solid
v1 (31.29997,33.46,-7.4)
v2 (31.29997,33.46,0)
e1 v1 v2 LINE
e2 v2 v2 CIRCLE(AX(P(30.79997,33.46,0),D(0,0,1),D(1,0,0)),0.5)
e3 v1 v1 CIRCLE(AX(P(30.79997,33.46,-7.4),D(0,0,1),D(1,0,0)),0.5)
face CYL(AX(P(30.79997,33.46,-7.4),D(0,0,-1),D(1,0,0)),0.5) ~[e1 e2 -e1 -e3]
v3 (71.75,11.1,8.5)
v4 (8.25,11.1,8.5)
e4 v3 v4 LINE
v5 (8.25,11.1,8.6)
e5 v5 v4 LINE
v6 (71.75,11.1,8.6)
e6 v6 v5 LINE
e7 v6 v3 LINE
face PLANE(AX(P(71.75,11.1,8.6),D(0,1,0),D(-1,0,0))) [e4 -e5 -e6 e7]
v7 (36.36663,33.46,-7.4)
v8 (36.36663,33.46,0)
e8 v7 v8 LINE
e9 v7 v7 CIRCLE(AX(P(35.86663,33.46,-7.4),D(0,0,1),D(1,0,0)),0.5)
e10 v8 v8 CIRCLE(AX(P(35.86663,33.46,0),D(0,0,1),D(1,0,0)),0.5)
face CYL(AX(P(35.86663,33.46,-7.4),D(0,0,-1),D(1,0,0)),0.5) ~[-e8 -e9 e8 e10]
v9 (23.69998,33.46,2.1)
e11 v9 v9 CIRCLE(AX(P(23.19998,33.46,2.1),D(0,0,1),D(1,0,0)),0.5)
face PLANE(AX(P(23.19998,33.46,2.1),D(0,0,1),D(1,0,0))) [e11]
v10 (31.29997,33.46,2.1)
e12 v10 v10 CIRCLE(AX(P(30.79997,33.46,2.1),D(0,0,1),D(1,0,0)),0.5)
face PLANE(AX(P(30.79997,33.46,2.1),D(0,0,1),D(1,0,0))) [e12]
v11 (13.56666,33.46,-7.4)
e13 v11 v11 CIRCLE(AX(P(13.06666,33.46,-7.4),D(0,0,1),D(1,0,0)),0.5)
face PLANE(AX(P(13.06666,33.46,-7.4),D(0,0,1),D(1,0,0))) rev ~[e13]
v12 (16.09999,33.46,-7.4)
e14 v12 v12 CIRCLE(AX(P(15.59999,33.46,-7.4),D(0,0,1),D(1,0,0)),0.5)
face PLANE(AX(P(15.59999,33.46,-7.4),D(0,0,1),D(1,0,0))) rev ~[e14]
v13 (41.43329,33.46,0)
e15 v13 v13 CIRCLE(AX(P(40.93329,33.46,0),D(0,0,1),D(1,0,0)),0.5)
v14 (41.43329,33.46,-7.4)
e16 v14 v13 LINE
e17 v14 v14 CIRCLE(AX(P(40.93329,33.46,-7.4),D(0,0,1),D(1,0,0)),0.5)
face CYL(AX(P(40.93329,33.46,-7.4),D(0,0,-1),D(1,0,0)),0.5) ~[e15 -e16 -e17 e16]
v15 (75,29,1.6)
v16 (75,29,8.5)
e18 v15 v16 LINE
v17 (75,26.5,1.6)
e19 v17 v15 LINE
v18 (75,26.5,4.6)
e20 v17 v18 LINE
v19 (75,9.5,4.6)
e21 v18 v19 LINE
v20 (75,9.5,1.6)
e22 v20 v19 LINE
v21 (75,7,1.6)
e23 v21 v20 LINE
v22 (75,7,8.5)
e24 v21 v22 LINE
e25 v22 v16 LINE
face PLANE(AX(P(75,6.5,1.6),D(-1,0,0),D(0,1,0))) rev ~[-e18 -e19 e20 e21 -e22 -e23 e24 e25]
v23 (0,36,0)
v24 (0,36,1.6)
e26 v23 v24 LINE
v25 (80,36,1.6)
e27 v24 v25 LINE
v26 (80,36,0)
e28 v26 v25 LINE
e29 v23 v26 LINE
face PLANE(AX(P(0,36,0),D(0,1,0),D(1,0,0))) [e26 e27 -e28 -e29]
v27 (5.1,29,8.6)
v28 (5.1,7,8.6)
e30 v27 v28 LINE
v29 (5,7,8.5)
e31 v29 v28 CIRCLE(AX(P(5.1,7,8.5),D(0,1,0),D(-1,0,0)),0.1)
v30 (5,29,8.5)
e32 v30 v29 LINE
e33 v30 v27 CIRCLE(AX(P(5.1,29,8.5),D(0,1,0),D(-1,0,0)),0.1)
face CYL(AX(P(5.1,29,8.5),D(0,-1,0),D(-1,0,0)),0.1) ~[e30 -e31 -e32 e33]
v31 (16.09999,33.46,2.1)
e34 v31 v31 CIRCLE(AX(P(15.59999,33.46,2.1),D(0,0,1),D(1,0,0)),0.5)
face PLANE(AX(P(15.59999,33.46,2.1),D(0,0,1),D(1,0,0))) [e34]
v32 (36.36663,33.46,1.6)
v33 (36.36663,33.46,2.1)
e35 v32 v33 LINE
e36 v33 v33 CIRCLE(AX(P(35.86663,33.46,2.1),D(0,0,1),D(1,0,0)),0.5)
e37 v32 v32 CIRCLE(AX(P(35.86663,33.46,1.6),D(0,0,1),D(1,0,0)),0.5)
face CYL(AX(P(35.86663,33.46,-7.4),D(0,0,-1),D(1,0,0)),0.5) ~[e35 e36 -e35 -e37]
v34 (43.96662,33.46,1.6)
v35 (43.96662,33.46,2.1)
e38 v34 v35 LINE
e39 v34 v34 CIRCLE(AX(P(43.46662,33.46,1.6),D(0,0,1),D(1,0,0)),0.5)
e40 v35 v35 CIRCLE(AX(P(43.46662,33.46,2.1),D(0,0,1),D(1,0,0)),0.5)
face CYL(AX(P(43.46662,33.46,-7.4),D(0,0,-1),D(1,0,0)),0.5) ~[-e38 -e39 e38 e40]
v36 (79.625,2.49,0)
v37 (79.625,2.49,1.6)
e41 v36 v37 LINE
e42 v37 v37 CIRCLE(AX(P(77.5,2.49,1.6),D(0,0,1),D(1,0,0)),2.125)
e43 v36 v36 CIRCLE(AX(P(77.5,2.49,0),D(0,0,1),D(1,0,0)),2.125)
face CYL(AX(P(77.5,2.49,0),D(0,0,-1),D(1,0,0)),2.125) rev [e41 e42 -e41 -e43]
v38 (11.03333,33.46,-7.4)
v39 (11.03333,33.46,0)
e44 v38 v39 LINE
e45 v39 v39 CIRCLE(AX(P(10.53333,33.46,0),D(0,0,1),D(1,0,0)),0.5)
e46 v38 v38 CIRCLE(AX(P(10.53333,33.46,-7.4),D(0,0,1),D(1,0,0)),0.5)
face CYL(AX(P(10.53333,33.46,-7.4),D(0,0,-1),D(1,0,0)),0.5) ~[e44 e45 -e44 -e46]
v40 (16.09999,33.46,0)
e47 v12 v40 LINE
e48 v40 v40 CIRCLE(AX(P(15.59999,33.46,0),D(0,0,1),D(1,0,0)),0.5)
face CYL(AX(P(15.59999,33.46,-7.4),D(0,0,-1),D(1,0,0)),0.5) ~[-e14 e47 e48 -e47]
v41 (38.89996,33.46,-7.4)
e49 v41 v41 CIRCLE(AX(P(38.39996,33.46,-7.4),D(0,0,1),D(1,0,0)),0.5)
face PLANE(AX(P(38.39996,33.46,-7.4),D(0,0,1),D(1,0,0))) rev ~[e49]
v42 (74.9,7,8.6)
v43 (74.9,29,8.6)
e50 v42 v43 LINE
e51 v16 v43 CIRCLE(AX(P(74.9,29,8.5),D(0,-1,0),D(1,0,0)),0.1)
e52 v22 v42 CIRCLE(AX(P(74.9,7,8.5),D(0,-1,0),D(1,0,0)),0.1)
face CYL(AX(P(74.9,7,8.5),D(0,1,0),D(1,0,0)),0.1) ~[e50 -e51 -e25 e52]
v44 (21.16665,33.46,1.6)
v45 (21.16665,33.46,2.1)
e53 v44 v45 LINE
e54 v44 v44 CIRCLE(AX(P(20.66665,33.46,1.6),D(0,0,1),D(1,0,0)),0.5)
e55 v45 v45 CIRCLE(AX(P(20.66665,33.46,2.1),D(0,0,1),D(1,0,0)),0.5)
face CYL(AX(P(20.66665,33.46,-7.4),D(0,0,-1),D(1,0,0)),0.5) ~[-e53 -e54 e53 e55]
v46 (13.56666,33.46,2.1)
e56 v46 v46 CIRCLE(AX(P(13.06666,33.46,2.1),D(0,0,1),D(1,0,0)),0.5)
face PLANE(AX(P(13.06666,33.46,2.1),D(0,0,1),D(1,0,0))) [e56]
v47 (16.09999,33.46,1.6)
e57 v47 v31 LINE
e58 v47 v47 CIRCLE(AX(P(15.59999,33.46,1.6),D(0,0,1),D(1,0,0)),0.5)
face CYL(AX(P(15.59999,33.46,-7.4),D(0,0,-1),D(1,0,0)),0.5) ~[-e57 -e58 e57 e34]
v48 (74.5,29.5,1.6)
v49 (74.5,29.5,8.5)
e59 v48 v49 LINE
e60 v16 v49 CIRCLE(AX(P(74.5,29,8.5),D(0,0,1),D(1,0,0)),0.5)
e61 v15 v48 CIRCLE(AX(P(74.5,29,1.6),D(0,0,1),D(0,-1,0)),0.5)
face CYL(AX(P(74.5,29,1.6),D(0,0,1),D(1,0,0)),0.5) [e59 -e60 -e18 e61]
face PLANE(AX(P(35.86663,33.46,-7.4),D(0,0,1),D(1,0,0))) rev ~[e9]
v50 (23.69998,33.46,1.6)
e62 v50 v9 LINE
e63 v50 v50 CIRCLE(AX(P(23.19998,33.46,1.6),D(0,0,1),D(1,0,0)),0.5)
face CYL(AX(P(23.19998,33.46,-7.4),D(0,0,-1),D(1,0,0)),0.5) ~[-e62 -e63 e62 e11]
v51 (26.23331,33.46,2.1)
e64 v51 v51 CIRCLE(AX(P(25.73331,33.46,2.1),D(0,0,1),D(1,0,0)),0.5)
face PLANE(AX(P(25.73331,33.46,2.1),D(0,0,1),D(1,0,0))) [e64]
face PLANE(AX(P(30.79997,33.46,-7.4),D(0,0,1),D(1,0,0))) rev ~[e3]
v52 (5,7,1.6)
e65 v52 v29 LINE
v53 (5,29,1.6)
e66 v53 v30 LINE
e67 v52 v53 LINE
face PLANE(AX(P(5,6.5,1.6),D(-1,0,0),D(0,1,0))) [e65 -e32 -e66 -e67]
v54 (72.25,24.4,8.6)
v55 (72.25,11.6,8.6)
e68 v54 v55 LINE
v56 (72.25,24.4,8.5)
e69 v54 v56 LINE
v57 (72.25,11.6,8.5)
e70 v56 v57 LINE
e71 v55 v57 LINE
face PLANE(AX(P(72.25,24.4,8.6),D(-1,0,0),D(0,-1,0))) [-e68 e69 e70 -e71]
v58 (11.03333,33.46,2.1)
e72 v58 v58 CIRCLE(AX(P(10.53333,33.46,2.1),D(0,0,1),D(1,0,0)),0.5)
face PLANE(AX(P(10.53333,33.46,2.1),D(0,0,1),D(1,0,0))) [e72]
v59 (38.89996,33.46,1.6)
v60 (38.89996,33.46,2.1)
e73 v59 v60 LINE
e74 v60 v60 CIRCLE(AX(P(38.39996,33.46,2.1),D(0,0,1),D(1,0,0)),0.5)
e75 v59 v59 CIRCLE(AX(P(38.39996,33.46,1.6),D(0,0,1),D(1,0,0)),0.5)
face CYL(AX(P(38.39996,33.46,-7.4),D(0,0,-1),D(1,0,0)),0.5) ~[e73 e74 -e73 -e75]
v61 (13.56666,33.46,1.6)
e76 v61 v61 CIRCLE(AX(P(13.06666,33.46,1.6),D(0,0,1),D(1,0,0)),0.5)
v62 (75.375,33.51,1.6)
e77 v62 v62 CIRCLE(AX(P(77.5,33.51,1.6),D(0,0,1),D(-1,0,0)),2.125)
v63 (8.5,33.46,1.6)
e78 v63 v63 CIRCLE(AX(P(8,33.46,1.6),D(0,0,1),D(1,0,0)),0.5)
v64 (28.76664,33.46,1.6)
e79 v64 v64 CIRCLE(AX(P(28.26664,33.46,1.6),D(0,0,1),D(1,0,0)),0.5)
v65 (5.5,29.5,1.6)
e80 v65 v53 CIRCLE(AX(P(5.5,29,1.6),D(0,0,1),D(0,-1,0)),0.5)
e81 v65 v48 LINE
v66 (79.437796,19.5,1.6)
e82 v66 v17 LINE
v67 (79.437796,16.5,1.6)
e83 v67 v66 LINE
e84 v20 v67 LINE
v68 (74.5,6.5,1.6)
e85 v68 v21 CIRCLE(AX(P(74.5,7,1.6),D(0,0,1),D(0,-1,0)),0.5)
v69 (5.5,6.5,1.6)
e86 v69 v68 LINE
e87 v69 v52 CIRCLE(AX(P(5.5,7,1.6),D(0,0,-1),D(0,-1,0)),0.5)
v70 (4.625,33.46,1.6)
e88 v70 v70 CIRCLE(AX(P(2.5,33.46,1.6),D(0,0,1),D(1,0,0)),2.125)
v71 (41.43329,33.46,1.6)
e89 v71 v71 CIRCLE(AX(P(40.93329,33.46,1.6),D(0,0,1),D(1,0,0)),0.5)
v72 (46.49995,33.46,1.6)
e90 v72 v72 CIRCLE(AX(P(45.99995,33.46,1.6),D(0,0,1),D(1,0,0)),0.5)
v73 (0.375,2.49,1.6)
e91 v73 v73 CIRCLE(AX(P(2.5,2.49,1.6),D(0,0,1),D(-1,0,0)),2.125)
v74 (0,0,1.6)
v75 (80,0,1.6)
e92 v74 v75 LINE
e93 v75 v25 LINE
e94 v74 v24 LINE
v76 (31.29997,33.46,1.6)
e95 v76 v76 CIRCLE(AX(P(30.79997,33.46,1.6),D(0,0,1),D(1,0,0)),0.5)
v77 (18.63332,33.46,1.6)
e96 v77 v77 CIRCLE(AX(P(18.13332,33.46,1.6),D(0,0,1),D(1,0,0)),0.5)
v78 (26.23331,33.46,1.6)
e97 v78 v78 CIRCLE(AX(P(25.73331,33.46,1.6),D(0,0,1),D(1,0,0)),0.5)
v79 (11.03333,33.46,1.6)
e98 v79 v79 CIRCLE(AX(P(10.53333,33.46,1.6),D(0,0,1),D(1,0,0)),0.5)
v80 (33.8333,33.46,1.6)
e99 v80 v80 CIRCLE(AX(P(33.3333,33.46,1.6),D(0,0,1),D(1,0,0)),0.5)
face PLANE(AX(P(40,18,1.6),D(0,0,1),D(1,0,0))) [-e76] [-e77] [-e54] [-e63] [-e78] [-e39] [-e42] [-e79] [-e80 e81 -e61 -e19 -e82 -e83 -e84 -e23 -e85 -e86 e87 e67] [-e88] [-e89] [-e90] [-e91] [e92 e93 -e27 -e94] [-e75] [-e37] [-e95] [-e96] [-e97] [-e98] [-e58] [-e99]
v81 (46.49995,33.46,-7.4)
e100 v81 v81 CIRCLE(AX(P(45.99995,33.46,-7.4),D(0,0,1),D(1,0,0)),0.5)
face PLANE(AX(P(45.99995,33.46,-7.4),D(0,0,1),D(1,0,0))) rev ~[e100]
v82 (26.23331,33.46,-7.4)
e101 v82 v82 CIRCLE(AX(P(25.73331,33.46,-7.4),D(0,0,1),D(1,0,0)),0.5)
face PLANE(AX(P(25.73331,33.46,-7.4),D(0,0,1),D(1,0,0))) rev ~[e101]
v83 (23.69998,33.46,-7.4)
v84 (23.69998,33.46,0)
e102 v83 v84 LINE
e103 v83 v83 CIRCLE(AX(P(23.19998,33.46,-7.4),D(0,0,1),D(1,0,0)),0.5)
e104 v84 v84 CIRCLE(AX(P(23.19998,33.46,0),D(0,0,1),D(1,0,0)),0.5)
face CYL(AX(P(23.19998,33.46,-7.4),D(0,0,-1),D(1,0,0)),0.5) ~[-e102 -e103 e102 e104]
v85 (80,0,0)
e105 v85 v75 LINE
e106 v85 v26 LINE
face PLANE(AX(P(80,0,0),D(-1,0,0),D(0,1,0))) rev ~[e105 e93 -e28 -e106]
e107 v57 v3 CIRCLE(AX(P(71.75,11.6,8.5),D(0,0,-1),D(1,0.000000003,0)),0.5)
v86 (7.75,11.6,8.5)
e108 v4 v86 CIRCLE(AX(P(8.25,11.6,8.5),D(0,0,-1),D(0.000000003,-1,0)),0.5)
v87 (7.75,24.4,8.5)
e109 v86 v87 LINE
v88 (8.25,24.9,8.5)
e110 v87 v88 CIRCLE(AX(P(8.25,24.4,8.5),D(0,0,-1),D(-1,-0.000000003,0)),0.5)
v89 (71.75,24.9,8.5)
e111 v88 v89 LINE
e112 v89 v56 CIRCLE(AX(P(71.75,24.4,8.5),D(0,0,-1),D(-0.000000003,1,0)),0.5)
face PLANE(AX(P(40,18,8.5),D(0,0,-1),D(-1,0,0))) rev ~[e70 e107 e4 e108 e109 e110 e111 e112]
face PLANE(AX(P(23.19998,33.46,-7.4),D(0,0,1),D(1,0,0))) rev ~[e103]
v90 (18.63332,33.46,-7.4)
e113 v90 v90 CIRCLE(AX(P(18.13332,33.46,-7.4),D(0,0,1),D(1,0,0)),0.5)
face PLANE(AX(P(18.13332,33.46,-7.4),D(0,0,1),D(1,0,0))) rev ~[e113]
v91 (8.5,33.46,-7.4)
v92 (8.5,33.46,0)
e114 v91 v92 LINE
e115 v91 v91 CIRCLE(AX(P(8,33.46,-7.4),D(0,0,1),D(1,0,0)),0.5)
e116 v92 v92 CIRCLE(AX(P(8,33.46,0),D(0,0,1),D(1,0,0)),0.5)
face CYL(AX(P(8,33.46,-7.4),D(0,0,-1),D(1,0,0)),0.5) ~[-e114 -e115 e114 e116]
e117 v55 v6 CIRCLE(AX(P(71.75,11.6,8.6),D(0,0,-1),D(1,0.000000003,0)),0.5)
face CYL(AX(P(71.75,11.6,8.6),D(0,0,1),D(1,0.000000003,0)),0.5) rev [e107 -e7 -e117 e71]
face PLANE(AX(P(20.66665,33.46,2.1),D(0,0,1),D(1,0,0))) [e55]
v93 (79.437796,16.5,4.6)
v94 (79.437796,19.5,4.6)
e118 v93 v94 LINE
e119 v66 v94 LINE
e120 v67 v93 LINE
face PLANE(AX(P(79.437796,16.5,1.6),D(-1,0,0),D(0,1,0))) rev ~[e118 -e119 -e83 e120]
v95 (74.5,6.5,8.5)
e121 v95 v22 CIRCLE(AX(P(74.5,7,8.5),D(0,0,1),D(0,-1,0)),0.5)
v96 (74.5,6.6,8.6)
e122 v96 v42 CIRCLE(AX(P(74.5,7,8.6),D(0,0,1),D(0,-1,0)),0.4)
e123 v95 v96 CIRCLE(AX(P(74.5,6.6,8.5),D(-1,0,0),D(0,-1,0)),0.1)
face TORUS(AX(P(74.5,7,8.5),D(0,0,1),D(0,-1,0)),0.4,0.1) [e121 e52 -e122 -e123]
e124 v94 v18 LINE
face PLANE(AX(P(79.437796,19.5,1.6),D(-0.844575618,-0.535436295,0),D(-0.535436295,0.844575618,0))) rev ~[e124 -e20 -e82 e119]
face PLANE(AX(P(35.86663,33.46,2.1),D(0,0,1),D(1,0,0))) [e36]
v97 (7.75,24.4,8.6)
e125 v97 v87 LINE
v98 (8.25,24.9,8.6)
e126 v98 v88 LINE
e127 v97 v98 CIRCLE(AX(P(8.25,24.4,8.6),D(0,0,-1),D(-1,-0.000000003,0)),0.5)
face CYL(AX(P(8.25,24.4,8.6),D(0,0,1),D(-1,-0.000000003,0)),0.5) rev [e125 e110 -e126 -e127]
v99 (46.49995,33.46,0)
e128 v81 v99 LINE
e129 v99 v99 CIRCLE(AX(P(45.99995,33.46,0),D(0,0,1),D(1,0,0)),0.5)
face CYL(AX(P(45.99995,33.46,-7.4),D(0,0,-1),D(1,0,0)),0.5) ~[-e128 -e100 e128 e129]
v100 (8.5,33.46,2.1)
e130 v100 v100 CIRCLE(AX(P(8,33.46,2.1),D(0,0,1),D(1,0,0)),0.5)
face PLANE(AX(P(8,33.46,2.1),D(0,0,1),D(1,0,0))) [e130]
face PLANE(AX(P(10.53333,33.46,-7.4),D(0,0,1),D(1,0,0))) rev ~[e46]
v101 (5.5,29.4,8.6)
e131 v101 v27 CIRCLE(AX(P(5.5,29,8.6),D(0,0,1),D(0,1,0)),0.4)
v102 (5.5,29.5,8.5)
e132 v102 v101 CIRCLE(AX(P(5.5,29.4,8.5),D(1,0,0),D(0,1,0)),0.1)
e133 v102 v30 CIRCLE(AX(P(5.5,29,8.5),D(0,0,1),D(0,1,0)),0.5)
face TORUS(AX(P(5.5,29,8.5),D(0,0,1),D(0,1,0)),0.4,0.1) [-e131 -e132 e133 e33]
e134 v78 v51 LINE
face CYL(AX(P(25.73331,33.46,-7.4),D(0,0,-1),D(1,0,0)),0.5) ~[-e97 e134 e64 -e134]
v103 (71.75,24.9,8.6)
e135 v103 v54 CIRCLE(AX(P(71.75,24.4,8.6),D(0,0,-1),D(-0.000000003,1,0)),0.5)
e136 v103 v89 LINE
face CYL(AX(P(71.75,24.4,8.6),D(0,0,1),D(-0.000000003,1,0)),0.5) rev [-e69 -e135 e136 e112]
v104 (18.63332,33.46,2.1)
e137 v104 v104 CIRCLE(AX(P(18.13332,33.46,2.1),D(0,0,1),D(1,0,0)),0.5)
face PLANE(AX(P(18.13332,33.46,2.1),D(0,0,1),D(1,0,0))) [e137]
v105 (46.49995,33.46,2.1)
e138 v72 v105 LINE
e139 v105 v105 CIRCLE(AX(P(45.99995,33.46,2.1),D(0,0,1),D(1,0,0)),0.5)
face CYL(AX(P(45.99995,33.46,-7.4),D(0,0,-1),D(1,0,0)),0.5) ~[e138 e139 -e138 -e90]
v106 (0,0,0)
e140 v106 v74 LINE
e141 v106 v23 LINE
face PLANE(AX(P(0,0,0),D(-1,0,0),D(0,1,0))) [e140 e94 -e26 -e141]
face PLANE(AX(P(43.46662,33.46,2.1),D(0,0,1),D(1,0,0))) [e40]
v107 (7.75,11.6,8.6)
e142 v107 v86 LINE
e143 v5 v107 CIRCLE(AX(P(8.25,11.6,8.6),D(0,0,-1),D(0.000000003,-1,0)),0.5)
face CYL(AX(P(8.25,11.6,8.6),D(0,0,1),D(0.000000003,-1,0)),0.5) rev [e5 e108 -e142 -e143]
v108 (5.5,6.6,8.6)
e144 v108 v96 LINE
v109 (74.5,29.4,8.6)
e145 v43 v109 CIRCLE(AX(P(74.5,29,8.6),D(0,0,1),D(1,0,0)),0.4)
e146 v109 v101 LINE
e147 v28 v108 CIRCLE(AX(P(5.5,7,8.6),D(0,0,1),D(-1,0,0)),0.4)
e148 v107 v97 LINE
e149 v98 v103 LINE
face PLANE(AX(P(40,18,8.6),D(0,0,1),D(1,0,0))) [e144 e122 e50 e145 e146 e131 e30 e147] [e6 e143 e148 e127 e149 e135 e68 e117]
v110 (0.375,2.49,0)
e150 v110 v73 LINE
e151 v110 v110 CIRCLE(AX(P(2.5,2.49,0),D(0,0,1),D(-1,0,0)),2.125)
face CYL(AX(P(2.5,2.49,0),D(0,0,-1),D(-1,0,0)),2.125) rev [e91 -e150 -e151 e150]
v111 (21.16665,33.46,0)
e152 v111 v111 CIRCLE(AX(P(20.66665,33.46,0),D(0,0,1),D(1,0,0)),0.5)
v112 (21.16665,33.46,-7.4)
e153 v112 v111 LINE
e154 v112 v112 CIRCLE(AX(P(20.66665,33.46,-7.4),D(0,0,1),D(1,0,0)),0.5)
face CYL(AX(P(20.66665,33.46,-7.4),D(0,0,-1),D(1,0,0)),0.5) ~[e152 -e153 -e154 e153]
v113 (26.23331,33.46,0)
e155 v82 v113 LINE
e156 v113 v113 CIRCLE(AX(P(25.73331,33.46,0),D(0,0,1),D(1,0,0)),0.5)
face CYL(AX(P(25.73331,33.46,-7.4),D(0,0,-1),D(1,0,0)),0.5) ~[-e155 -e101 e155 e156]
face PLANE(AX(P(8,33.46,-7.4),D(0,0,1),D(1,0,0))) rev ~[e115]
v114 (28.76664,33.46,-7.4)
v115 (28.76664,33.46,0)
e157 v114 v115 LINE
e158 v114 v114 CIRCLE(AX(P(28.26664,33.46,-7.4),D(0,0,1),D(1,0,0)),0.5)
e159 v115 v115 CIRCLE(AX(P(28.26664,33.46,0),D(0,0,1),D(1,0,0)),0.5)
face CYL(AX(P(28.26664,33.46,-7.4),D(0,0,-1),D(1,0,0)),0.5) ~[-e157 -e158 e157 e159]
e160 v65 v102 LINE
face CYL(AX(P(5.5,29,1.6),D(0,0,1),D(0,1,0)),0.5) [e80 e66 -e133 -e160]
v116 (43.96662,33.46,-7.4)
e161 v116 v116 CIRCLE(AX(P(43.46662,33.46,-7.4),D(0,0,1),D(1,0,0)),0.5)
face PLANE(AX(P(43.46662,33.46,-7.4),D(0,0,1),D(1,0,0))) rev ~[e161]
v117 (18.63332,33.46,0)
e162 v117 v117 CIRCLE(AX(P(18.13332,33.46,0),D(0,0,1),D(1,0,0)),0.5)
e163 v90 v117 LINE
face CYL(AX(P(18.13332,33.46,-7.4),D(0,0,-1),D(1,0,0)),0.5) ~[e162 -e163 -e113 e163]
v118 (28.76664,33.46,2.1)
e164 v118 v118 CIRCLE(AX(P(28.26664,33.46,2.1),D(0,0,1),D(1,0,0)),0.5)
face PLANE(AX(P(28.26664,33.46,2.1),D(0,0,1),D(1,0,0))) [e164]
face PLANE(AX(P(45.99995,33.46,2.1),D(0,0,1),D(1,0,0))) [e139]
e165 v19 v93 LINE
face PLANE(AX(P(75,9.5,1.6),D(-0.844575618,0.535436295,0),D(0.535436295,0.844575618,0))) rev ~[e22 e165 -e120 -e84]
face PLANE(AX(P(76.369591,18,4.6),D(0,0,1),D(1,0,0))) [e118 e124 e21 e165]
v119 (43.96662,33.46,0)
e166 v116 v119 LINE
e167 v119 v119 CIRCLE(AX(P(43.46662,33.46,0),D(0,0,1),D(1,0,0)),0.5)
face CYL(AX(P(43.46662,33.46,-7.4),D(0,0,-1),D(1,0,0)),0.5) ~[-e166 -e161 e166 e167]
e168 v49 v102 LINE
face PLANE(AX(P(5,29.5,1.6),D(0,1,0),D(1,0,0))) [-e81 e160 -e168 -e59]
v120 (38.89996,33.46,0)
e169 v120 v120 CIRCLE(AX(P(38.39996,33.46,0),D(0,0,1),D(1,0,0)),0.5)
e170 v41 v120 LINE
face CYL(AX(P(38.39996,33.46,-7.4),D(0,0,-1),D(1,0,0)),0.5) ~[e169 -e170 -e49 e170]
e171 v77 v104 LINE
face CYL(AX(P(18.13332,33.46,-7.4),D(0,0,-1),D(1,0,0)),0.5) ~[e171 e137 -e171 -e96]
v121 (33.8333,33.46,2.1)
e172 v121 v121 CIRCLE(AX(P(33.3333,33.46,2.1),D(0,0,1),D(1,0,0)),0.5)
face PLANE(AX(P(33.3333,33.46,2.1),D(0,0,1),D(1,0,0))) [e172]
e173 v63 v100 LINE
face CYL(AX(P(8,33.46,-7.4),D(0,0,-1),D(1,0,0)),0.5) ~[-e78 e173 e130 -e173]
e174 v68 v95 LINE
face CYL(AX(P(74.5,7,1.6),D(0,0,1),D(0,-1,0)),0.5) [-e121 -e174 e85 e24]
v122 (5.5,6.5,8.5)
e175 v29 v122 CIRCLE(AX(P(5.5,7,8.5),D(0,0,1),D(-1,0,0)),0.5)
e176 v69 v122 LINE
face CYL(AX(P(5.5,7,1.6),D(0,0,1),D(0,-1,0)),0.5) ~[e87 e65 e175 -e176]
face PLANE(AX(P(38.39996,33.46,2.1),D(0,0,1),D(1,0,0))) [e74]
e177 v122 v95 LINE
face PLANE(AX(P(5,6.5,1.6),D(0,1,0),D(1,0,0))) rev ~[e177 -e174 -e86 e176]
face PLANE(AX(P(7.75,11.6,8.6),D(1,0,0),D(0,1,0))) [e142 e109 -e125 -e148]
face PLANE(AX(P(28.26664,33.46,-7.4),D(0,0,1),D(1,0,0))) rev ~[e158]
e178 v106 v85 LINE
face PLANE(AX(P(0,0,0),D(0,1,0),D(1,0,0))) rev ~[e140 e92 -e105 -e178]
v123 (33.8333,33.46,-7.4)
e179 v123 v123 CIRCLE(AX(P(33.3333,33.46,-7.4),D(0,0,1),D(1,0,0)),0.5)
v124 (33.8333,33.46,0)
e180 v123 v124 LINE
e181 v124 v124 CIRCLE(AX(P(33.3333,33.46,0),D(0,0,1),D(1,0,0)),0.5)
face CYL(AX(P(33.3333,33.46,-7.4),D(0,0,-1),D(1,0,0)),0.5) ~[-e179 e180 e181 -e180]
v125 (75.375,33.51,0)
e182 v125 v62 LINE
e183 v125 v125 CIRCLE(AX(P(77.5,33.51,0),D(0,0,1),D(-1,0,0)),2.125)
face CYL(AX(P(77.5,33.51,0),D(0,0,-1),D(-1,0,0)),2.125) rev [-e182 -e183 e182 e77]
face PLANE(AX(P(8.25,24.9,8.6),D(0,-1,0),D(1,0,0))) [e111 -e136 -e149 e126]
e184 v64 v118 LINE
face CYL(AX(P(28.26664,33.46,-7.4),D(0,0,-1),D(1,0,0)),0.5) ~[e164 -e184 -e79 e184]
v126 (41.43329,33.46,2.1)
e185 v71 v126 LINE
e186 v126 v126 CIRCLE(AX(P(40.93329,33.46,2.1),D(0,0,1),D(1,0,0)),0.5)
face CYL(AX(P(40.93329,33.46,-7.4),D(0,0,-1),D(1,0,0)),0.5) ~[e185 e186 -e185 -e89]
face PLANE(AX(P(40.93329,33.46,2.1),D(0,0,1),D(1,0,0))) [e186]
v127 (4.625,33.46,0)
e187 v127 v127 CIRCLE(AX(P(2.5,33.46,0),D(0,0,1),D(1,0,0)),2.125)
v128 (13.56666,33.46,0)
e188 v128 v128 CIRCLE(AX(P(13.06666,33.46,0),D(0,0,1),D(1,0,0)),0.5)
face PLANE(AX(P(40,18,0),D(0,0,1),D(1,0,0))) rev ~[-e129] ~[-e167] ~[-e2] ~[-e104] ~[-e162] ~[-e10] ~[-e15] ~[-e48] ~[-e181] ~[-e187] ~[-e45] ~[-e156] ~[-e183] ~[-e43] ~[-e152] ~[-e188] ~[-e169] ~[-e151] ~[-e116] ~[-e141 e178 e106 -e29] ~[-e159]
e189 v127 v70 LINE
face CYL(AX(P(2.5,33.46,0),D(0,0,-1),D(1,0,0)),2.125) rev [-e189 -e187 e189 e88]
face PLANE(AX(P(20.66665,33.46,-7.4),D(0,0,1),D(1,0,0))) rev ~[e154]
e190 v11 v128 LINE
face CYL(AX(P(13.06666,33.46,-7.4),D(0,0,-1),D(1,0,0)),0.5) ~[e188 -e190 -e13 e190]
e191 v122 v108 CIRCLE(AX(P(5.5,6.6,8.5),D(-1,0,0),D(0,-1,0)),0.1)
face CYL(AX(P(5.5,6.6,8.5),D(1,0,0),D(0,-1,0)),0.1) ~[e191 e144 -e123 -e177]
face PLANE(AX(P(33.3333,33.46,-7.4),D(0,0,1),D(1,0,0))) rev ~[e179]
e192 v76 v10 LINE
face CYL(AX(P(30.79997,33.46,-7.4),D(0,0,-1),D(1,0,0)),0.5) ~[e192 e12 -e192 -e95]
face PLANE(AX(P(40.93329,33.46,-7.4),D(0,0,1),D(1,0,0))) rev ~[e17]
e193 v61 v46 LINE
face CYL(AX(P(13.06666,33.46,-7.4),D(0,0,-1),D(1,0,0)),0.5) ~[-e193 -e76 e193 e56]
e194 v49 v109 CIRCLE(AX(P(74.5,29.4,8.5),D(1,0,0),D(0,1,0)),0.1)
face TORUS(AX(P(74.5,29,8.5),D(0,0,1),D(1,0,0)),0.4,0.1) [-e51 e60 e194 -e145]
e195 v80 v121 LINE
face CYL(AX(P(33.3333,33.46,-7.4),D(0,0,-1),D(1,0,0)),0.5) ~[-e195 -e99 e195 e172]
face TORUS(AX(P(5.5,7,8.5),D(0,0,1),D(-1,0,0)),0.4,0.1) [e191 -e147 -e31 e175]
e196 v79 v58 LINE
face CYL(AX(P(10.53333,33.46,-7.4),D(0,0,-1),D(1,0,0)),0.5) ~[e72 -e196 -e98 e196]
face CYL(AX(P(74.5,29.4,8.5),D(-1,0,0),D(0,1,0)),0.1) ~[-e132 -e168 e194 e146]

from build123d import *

# Parameters (mm, degrees)
CROQUIS1_W                   = 80
CROQUIS1_H                   = 36
CROQUIS1_R                   = 2.125
CROQUIS1_R_2                 = 0.5
SALIENTE_EXTRUIR1_DEPTH      = 1.6
CROQUIS2_W                   = 70
CROQUIS2_H                   = 23
SALIENTE_EXTRUIR2_DEPTH      = 7
SALIENTE_EXTRUIR3_DEPTH      = 3
SALIENTE_EXTRUIR4_DEPTH      = 0.5
SALIENTE_EXTRUIR4_DEPTH_BACK = 9
CROQUIS6_R                   = 0.5
CORTAR_EXTRUIR1_DEPTH        = 0.1
REDONDEO1_R                  = 0.5
FILLET2_R                    = 0.1


with BuildPart() as part:
    # Croquis1 → Saliente-Extruir1 (new body)
    with BuildSketch(Plane.XY):
        with Locations((40, 18)):
            Rectangle(CROQUIS1_W, CROQUIS1_H)
        with Locations((2.5, 33.46)):
            Circle(CROQUIS1_R, mode=Mode.SUBTRACT)
        with Locations(Location((77.5, 33.51, 0), (0, 0, 180))):
            Circle(CROQUIS1_R, mode=Mode.SUBTRACT)
        with Locations((77.5, 2.49)):
            Circle(CROQUIS1_R, mode=Mode.SUBTRACT)
        with Locations(Location((2.5, 2.49, 0), (0, 0, 180))):
            Circle(CROQUIS1_R, mode=Mode.SUBTRACT)
        with Locations((8, 33.46)):
            Circle(CROQUIS1_R_2, mode=Mode.SUBTRACT)
        with Locations((10.53333, 33.46)):
            Circle(CROQUIS1_R_2, mode=Mode.SUBTRACT)
        with Locations((13.06666, 33.46)):
            Circle(CROQUIS1_R_2, mode=Mode.SUBTRACT)
        with Locations((15.59999, 33.46)):
            Circle(CROQUIS1_R_2, mode=Mode.SUBTRACT)
        with Locations((18.13332, 33.46)):
            Circle(CROQUIS1_R_2, mode=Mode.SUBTRACT)
        with Locations((20.66665, 33.46)):
            Circle(CROQUIS1_R_2, mode=Mode.SUBTRACT)
        with Locations((23.19998, 33.46)):
            Circle(CROQUIS1_R_2, mode=Mode.SUBTRACT)
        with Locations((25.73331, 33.46)):
            Circle(CROQUIS1_R_2, mode=Mode.SUBTRACT)
        with Locations((28.26664, 33.46)):
            Circle(CROQUIS1_R_2, mode=Mode.SUBTRACT)
        with Locations((30.79997, 33.46)):
            Circle(CROQUIS1_R_2, mode=Mode.SUBTRACT)
        with Locations((33.3333, 33.46)):
            Circle(CROQUIS1_R_2, mode=Mode.SUBTRACT)
        with Locations((35.86663, 33.46)):
            Circle(CROQUIS1_R_2, mode=Mode.SUBTRACT)
        with Locations((38.39996, 33.46)):
            Circle(CROQUIS1_R_2, mode=Mode.SUBTRACT)
        with Locations((40.93329, 33.46)):
            Circle(CROQUIS1_R_2, mode=Mode.SUBTRACT)
        with Locations((43.46662, 33.46)):
            Circle(CROQUIS1_R_2, mode=Mode.SUBTRACT)
        with Locations((45.99995, 33.46)):
            Circle(CROQUIS1_R_2, mode=Mode.SUBTRACT)
    extrude(amount=SALIENTE_EXTRUIR1_DEPTH)

    # Croquis2 → Saliente-Extruir2 (add)
    with BuildSketch(Plane.XY.offset(1.6)):
        with Locations((40, 18)):
            Rectangle(CROQUIS2_W, CROQUIS2_H)
    extrude(amount=SALIENTE_EXTRUIR2_DEPTH)

    # Croquis3 → Saliente-Extruir3 (add)
    with BuildSketch(Plane.XY.offset(1.6)):
        Polygon((79.437795719, 19.5), (75, 26.5), (75, 9.5), (79.437795719, 16.5), align=None)
    extrude(amount=SALIENTE_EXTRUIR3_DEPTH)

    # Croquis6 → Saliente-Extruir4 (add, two sides: drawn at the far end of the back side and taken through both)
    with BuildSketch(Plane.XY.offset(1.6).offset(-SALIENTE_EXTRUIR4_DEPTH_BACK)):
        with Locations((8, 33.46)):
            Circle(CROQUIS6_R)
        with Locations((10.53333, 33.46)):
            Circle(CROQUIS6_R)
        with Locations((13.06666, 33.46)):
            Circle(CROQUIS6_R)
        with Locations((15.59999, 33.46)):
            Circle(CROQUIS6_R)
        with Locations((18.13332, 33.46)):
            Circle(CROQUIS6_R)
        with Locations((20.66665, 33.46)):
            Circle(CROQUIS6_R)
        with Locations((23.19998, 33.46)):
            Circle(CROQUIS6_R)
        with Locations((25.73331, 33.46)):
            Circle(CROQUIS6_R)
        with Locations((28.26664, 33.46)):
            Circle(CROQUIS6_R)
        with Locations((30.79997, 33.46)):
            Circle(CROQUIS6_R)
        with Locations((33.3333, 33.46)):
            Circle(CROQUIS6_R)
        with Locations((35.86663, 33.46)):
            Circle(CROQUIS6_R)
        with Locations((38.39996, 33.46)):
            Circle(CROQUIS6_R)
        with Locations((40.93329, 33.46)):
            Circle(CROQUIS6_R)
        with Locations((43.46662, 33.46)):
            Circle(CROQUIS6_R)
        with Locations((45.99995, 33.46)):
            Circle(CROQUIS6_R)
    extrude(amount=SALIENTE_EXTRUIR4_DEPTH + SALIENTE_EXTRUIR4_DEPTH_BACK)

    # Croquis7 → Cortar-Extruir1 (cut)
    with BuildSketch(Plane.XY.offset(8.6)):
        with BuildLine():
            Line((8.25, 24.9), (71.75, 24.9))
            ThreePointArc((71.75, 24.9), (72.103553391, 24.753553391), (72.25, 24.4))
            Line((72.25, 24.4), (72.25, 11.6))
            ThreePointArc((72.25, 11.6), (72.103553391, 11.246446609), (71.75, 11.1))
            Line((71.75, 11.1), (8.25, 11.1))
            ThreePointArc((8.25, 11.1), (7.896446609, 11.246446609), (7.75, 11.6))
            Line((7.75, 11.6), (7.75, 24.4))
            ThreePointArc((7.75, 24.4), (7.896446609, 24.753553391), (8.25, 24.9))
        make_face()
    extrude(amount=-CORTAR_EXTRUIR1_DEPTH, mode=Mode.SUBTRACT)

    # Redondeo1
    redondeo1_edges = [part.edges().sort_by_distance(p)[0] for p in [
        (5, 6.5, 5.1),
        (75, 6.5, 5.1),
        (75, 29.5, 5.1),
        (5, 29.5, 5.1),
    ]]
    fillet(redondeo1_edges, radius=REDONDEO1_R)

    # Fillet2
    fillet2_edges = [part.edges().sort_by_distance(p)[0] for p in [
        (40, 6.5, 8.6),
        (5, 18, 8.6),
        (75, 18, 8.6),
        (40, 29.5, 8.6),
        (74.853553391, 6.646446609, 8.6),
        (74.853553391, 29.353553391, 8.6),
        (5.146446609, 29.353553391, 8.6),
        (5.146446609, 6.646446609, 8.6),
    ]]
    fillet(fillet2_edges, radius=FILLET2_R)


solid = part.part
